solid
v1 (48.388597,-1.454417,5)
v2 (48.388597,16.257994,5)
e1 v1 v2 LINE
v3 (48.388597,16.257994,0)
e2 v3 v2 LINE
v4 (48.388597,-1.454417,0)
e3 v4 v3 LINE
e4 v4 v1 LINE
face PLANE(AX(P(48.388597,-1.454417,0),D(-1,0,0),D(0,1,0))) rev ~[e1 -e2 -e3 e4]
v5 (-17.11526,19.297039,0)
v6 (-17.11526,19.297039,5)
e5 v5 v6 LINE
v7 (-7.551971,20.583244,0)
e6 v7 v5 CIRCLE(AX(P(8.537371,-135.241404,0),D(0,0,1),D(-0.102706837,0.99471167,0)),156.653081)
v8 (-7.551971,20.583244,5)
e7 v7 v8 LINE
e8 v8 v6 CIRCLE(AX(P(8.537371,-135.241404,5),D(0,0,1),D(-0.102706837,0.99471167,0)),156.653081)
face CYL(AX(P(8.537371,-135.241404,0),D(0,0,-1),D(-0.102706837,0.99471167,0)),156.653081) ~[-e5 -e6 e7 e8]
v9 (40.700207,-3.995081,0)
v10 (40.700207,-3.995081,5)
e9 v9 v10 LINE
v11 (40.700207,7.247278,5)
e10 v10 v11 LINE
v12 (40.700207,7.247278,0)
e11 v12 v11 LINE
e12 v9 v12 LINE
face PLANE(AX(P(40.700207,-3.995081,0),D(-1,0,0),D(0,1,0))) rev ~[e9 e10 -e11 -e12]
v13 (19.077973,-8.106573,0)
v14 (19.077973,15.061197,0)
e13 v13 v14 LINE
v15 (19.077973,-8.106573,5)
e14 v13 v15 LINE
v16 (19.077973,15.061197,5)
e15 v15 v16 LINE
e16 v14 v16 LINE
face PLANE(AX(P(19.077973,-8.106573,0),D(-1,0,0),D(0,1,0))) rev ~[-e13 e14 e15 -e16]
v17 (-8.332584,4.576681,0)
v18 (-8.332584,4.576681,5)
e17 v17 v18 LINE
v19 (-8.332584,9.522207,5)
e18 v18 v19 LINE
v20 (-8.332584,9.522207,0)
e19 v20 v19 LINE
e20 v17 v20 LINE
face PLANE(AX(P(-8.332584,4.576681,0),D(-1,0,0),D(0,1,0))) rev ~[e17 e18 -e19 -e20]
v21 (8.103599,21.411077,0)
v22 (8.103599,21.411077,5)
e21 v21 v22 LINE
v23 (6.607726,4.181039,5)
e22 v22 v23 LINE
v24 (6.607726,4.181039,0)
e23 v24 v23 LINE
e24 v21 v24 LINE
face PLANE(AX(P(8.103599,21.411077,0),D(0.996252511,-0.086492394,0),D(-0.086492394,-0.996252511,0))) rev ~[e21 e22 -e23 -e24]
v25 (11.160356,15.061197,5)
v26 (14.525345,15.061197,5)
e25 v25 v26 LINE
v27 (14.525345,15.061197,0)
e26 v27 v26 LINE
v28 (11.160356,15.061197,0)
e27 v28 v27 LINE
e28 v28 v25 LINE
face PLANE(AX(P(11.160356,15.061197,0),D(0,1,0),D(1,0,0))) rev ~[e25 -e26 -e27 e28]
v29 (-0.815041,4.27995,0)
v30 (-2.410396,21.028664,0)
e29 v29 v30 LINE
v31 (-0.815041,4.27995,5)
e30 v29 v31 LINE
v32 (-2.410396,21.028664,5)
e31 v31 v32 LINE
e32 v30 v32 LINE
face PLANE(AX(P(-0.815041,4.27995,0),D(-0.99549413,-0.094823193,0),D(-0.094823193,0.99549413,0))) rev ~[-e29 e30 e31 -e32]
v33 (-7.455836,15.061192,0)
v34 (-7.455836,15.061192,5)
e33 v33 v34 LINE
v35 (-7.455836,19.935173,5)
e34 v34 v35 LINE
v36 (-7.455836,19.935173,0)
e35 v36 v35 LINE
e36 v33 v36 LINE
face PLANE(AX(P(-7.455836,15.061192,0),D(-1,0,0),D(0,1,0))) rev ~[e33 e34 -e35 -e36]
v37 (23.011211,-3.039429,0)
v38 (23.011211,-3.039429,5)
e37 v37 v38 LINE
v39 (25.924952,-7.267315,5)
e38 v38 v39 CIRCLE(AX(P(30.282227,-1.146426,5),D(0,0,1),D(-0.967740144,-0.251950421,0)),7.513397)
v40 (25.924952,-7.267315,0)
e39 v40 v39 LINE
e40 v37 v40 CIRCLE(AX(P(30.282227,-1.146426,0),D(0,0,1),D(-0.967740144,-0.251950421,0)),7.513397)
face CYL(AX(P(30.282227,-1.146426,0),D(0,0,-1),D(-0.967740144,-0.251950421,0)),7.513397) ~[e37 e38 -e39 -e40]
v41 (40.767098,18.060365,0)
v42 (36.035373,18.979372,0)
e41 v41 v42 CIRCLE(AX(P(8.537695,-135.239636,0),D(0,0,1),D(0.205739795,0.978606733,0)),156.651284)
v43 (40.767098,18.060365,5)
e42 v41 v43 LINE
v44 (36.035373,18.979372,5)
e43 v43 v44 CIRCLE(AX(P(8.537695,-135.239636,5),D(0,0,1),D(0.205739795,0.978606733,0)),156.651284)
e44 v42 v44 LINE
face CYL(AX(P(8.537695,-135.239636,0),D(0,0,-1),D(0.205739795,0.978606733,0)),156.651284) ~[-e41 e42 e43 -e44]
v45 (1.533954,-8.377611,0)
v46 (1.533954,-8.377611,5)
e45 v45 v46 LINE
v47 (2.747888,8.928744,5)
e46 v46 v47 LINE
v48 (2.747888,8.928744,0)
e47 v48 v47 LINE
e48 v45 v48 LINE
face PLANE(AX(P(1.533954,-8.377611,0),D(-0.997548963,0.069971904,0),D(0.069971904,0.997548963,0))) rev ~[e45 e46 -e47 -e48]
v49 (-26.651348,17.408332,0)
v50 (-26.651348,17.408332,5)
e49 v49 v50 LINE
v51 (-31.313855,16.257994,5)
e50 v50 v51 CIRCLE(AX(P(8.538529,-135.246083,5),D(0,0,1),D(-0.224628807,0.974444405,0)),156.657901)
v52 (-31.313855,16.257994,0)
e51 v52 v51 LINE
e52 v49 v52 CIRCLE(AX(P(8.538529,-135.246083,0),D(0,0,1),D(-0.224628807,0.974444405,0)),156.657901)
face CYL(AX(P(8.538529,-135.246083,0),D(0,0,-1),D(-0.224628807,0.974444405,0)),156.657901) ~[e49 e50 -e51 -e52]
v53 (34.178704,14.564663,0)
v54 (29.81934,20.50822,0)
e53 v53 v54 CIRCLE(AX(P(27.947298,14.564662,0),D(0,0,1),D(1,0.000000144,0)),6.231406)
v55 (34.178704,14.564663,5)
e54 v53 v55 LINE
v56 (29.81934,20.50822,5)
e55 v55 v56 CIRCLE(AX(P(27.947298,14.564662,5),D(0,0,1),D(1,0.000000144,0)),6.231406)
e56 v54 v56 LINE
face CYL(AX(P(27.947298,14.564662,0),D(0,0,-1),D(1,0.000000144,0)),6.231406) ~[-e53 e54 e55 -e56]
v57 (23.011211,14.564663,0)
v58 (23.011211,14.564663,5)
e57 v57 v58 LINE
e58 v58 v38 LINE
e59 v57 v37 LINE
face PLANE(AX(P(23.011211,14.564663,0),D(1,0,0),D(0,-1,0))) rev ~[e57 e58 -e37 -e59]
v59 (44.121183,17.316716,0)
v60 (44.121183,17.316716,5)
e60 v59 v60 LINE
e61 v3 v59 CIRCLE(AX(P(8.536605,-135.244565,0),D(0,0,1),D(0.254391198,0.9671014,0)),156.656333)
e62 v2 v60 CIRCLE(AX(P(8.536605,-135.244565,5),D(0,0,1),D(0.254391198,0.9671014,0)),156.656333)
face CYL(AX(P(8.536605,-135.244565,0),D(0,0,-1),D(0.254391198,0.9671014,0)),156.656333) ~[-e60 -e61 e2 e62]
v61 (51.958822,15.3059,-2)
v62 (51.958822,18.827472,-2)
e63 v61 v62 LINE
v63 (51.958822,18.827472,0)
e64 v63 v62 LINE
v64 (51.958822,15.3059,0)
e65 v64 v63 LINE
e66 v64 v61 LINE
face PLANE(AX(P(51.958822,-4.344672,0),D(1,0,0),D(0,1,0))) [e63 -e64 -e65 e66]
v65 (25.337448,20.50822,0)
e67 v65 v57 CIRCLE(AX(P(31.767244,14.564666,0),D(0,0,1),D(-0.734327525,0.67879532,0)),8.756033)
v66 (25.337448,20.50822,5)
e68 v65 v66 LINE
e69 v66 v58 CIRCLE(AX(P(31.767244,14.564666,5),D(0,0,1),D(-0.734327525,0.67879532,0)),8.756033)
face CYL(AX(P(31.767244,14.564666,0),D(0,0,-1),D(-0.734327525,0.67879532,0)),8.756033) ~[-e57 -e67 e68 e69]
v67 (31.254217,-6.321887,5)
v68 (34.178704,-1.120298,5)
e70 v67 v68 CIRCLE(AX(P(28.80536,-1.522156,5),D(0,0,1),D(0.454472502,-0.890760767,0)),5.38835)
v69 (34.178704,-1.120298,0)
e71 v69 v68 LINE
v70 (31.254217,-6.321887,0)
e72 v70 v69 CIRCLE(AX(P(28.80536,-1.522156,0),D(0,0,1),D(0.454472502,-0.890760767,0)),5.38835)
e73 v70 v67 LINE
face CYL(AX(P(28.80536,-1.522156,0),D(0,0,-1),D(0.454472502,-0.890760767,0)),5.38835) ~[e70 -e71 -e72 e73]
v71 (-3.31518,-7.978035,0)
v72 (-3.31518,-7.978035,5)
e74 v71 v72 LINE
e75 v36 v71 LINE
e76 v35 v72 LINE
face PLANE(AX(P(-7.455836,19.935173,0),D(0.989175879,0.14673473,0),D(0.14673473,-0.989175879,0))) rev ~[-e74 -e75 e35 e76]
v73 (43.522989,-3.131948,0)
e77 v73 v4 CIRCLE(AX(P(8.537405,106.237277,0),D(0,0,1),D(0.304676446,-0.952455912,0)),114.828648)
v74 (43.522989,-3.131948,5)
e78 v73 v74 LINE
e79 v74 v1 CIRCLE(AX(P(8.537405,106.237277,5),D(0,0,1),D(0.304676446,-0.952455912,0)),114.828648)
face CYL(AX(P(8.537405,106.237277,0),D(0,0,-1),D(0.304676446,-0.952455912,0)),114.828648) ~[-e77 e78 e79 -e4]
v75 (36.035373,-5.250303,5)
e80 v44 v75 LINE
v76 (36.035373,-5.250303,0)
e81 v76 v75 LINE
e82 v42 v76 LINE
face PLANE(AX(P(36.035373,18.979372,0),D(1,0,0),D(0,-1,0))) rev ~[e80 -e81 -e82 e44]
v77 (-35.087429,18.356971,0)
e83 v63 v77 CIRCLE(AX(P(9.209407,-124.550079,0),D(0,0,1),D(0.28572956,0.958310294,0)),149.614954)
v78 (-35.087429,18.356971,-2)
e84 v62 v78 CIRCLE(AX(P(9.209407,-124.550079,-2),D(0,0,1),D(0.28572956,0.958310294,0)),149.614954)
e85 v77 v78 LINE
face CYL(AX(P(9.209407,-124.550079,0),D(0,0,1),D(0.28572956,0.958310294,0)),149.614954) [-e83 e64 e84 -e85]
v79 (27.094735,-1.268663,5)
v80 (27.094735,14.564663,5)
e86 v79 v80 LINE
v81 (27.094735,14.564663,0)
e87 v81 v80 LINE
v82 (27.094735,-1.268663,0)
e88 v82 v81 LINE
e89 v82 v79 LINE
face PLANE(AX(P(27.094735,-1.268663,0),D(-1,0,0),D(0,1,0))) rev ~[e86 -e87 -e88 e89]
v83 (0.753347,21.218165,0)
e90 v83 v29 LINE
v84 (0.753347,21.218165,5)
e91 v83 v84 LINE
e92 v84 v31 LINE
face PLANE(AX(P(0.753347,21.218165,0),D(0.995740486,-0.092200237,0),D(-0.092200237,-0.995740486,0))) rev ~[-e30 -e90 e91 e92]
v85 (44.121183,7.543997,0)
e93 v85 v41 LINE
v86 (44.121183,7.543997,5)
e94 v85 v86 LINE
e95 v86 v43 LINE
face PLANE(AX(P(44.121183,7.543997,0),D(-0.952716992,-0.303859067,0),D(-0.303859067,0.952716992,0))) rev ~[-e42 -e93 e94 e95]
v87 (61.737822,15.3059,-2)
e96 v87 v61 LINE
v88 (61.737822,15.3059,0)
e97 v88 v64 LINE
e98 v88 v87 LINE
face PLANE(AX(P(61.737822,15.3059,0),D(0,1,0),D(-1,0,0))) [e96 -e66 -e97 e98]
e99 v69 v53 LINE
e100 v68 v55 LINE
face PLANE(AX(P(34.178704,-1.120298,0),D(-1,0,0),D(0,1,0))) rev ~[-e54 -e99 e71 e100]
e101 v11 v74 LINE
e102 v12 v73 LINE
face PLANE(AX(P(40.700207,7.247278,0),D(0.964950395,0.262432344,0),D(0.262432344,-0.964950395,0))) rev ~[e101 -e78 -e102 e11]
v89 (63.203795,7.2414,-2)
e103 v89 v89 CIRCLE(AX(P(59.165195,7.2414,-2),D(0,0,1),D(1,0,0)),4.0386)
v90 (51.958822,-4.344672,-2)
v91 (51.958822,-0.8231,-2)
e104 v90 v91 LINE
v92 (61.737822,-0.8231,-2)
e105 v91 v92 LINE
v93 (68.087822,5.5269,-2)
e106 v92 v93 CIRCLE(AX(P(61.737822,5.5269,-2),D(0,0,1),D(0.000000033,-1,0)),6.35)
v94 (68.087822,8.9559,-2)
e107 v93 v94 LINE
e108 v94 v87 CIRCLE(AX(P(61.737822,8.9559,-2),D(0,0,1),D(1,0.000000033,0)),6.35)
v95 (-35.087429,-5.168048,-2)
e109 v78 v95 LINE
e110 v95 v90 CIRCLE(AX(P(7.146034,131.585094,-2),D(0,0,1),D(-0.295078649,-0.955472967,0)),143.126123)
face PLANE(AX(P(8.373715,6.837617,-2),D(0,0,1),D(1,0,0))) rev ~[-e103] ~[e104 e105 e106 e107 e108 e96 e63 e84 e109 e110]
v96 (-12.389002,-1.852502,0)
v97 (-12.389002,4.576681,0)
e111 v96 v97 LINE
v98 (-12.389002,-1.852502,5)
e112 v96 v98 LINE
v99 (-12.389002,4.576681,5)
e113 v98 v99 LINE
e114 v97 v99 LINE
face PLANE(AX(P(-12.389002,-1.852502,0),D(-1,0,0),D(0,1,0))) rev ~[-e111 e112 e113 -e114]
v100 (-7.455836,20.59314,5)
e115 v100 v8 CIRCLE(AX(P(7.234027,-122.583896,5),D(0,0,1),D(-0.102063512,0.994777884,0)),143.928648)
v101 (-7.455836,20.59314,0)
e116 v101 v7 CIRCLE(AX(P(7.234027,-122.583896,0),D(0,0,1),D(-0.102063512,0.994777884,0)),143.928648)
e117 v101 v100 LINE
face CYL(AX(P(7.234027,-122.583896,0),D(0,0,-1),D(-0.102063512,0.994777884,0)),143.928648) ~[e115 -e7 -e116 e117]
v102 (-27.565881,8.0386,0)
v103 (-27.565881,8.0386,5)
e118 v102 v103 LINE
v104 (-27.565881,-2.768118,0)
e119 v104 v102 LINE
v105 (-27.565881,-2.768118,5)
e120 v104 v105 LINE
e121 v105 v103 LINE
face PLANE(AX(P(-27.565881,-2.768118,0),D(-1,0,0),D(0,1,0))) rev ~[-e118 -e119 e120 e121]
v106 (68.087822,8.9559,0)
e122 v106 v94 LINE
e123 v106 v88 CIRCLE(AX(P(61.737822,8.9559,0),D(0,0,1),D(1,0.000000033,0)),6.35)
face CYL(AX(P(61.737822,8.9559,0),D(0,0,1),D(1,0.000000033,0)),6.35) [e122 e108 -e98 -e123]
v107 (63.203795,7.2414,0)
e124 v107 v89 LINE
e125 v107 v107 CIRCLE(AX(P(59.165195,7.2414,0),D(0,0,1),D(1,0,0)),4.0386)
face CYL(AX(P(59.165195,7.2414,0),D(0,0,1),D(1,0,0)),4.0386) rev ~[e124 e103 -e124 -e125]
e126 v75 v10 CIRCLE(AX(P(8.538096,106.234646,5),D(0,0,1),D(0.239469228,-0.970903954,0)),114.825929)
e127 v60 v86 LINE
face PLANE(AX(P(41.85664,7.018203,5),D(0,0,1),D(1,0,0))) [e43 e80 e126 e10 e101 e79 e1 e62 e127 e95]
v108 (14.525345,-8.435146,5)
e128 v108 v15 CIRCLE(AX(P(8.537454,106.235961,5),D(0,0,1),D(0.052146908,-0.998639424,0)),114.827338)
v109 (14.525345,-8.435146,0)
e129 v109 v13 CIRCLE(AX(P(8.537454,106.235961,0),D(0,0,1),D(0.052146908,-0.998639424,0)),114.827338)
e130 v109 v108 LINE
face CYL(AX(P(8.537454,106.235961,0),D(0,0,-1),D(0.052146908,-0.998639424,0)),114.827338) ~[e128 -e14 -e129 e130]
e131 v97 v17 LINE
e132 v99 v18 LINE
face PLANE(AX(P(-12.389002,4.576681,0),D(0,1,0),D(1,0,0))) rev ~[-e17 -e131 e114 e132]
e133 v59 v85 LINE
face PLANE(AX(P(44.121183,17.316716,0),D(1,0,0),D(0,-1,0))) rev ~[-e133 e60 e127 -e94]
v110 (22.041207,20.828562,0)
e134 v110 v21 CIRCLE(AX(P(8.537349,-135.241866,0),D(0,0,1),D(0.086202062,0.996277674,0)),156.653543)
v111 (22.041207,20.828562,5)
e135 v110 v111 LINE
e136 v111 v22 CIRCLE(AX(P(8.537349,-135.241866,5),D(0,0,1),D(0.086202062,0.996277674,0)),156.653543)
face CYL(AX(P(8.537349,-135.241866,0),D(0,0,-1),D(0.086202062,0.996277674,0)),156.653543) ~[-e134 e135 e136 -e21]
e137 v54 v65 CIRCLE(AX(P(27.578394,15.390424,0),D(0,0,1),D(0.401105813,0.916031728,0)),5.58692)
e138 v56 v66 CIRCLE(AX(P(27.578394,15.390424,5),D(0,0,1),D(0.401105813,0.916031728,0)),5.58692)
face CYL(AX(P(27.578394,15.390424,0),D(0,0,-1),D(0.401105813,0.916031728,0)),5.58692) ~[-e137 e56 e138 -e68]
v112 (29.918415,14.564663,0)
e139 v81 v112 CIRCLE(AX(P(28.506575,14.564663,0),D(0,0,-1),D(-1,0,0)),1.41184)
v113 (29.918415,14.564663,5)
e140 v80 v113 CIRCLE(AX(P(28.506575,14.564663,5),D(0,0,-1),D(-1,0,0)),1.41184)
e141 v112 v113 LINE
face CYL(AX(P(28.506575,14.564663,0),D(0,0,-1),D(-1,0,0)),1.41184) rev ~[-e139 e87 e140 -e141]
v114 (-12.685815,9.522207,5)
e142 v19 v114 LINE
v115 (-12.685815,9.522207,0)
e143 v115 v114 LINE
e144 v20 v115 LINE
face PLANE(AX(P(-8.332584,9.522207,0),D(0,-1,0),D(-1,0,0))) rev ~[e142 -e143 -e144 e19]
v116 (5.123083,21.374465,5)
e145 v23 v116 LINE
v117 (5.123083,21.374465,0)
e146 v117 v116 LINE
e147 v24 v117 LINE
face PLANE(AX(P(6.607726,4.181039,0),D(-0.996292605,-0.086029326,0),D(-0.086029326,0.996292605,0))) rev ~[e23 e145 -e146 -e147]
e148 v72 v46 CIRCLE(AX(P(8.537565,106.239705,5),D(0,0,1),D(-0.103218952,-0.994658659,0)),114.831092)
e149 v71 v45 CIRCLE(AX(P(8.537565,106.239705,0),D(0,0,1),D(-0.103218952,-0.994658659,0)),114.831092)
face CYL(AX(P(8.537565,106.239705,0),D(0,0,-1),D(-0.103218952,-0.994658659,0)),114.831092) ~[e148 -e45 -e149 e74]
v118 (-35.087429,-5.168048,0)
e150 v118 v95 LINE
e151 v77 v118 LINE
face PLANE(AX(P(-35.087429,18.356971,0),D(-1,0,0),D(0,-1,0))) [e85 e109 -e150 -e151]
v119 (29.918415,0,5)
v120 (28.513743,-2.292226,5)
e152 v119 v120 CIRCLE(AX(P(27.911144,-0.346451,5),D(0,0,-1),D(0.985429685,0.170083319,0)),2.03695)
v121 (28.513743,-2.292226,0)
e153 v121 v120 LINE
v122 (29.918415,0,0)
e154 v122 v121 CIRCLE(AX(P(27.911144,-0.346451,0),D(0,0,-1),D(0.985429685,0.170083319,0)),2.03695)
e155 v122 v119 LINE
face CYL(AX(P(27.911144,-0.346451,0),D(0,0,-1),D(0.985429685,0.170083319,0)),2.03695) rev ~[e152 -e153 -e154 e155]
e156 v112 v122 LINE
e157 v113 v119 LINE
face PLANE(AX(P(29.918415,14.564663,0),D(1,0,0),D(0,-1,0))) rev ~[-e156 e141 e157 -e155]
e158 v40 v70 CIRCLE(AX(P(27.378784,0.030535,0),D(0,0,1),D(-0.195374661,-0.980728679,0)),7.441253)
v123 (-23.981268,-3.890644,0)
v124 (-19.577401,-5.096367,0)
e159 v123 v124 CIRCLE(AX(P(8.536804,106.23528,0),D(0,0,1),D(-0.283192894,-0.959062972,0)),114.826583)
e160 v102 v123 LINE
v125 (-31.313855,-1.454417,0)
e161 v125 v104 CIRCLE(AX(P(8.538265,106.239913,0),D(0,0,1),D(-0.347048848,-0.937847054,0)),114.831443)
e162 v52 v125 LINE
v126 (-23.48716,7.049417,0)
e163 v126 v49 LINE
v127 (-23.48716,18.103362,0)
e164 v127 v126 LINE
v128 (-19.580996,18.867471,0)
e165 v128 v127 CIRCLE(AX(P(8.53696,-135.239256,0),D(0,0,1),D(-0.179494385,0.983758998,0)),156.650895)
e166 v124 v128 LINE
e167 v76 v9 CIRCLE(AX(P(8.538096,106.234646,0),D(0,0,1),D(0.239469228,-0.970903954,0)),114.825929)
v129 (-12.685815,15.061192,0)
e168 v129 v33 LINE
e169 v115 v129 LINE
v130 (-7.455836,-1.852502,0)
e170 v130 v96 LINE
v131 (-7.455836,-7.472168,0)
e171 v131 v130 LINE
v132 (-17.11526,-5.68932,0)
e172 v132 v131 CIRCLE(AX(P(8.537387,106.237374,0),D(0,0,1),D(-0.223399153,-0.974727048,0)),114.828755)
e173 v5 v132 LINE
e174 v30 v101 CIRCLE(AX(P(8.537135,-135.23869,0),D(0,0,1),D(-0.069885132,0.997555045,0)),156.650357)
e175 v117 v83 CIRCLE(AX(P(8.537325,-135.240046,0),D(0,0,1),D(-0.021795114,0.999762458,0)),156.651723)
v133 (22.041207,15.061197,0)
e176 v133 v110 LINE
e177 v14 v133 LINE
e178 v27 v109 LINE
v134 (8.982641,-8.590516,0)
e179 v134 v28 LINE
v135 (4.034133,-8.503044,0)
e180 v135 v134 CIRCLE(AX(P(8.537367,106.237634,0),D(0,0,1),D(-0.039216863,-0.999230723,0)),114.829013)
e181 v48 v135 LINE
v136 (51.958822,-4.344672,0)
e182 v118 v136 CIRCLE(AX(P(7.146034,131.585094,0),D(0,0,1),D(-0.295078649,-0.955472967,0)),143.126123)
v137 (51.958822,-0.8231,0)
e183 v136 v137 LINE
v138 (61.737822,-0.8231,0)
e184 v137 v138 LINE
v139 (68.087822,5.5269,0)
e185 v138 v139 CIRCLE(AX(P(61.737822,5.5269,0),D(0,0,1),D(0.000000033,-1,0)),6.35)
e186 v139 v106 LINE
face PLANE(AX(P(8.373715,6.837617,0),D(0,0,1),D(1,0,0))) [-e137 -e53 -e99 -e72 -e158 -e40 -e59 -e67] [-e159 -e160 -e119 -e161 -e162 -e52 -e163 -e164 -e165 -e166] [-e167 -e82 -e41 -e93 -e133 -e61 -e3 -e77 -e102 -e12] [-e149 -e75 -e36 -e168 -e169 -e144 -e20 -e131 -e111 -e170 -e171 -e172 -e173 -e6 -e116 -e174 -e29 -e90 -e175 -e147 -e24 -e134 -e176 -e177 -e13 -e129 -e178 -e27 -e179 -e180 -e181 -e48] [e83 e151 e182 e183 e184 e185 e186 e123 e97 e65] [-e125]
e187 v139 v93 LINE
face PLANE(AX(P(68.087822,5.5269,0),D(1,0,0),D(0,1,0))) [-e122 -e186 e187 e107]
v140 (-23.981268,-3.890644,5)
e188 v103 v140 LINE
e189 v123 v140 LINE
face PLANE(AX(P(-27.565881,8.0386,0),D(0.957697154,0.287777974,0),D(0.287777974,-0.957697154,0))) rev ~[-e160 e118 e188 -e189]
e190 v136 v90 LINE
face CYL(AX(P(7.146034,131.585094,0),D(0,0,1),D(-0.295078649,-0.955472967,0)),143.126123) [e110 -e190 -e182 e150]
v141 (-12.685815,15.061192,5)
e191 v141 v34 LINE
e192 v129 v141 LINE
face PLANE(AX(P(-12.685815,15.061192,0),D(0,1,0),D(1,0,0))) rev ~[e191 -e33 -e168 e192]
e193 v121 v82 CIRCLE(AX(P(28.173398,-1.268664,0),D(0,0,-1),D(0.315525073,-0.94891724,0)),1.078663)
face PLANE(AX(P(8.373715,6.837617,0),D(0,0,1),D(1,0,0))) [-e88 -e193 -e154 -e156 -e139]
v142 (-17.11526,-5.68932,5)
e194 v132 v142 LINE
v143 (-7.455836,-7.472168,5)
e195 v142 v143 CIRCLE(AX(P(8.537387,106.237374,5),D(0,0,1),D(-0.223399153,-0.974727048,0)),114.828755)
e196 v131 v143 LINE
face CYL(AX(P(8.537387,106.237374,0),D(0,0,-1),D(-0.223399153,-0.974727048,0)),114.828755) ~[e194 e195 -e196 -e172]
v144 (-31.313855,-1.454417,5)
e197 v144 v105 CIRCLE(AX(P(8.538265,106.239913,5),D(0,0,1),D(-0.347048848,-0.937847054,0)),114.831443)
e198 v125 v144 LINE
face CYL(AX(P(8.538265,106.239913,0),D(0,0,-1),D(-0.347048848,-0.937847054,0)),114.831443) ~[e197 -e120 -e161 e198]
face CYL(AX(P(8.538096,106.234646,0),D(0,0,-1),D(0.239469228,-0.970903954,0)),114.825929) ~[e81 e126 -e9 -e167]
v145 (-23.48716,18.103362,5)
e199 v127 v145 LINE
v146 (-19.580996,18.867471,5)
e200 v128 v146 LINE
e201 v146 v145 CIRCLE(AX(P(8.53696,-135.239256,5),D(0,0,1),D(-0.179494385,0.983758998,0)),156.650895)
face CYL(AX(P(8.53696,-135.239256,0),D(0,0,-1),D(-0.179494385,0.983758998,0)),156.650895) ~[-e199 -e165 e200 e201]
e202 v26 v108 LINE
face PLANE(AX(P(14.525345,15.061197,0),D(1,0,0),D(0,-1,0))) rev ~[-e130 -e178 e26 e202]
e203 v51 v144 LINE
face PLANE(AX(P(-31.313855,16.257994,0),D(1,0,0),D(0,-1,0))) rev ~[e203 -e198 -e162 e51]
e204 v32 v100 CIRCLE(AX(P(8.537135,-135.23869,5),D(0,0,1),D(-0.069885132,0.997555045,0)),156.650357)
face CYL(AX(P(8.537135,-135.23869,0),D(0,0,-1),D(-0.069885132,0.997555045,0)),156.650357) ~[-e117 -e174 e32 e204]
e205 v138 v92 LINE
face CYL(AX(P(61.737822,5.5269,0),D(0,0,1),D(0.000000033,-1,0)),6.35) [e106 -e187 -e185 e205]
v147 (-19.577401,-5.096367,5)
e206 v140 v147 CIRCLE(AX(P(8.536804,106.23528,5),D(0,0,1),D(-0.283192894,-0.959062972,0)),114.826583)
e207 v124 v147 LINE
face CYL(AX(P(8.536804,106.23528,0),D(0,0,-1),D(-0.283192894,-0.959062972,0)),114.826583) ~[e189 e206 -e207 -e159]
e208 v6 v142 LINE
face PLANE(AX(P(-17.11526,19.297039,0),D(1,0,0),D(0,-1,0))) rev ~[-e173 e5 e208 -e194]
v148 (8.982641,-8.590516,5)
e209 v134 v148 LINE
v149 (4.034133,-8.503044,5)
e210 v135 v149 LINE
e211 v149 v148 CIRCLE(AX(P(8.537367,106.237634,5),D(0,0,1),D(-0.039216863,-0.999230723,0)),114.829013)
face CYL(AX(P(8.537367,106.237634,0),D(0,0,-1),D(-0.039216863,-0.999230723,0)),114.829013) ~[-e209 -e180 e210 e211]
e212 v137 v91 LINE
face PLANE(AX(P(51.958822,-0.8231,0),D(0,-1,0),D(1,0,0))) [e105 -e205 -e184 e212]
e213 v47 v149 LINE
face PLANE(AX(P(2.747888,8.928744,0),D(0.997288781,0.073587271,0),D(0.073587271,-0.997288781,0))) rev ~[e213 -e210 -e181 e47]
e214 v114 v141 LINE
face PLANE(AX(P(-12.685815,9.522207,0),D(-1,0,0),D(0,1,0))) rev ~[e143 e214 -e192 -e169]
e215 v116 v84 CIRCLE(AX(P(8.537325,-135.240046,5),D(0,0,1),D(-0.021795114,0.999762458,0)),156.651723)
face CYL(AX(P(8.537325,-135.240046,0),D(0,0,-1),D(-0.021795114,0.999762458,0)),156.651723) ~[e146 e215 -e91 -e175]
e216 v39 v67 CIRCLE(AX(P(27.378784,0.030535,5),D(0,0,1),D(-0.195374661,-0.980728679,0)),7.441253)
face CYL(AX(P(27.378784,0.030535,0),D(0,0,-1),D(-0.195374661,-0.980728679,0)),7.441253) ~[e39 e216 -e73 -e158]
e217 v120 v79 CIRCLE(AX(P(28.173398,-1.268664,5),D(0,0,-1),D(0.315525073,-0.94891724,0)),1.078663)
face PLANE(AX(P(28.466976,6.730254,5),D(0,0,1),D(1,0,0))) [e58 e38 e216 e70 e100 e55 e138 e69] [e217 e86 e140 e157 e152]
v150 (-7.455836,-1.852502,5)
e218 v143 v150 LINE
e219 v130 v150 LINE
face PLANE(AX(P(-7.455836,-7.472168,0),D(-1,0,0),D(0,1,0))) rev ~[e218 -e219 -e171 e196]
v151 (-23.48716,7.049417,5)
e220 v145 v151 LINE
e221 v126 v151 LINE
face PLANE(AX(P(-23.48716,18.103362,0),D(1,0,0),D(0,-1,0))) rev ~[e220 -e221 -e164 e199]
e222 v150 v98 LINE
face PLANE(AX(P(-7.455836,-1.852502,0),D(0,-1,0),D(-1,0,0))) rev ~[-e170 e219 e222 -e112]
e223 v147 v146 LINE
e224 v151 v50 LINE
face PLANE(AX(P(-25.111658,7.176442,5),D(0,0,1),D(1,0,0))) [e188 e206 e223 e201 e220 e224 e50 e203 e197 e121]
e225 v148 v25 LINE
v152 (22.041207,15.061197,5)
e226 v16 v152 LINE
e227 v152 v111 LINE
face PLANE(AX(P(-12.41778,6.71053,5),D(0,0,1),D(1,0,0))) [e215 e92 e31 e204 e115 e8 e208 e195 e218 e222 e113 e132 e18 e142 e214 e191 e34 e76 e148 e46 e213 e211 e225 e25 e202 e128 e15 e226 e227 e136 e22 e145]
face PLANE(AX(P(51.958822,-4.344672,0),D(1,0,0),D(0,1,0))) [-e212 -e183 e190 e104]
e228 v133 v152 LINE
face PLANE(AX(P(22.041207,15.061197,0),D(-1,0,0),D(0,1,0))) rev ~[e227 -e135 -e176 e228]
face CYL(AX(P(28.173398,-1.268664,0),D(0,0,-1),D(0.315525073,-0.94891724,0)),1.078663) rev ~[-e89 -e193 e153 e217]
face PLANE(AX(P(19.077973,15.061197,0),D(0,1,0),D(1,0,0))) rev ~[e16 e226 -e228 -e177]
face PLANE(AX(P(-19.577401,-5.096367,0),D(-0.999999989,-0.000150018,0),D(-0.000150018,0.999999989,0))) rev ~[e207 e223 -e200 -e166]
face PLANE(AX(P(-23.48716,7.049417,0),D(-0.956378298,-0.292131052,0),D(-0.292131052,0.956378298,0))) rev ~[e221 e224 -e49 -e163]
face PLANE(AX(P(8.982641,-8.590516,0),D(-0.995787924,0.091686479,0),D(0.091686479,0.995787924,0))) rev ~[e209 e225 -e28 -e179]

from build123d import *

# Parameters (mm, degrees)
F1_DEPTH = 5
F3_DEPTH = 2
F5_R     = 4.0386
F6_DEPTH = 2


with BuildPart() as f1:
    # F0 (on Top) → F1 (new body)
    with BuildSketch(Plane.XY):
        with BuildLine():
            ThreePointArc((-26.651348, 17.408332), (-28.98701, 16.85103), (-31.313855, 16.257994))
            Line((-31.313855, 16.257994), (-31.313855, -1.454417))
            ThreePointArc((-31.313855, -1.454417), (-29.445548, -2.127472), (-27.565881, -2.768118))
            Line((-27.565881, -2.768118), (-27.565881, 8.0386))
            Line((-27.565881, 8.0386), (-23.981268, -3.890644))
            ThreePointArc((-23.981268, -3.890644), (-21.785328, -4.515397), (-19.577401, -5.096367))
            Line((-19.577401, -5.096367), (-19.580996, 18.867471))
            ThreePointArc((-19.580996, 18.867471), (-21.536505, 18.497823), (-23.48716, 18.103362))
            Line((-23.48716, 18.103362), (-23.48716, 7.049417))
            Line((-23.48716, 7.049417), (-26.651348, 17.408332))
        make_face()
        with BuildLine():
            Line((48.388597, -1.454417), (48.388597, 16.257994))
            ThreePointArc((48.388597, 16.257994), (46.258605, 16.802327), (44.121183, 17.316716))
            Line((44.121183, 17.316716), (44.121183, 7.543997))
            Line((44.121183, 7.543997), (40.767098, 18.060365))
            ThreePointArc((40.767098, 18.060365), (38.40477, 18.538069), (36.035373, 18.979372))
            Line((36.035373, 18.979372), (36.035373, -5.250303))
            ThreePointArc((36.035373, -5.250303), (38.374392, -4.647226), (40.700207, -3.995081))
            Line((40.700207, -3.995081), (40.700207, 7.247278))
            Line((40.700207, 7.247278), (43.522989, -3.131948))
            ThreePointArc((43.522989, -3.131948), (45.965192, -2.320446), (48.388597, -1.454417))
        make_face()
        with BuildLine():
            ThreePointArc((-7.551971, 20.583244), (-12.343521, 20.013793), (-17.11526, 19.297039))
            Line((-17.11526, 19.297039), (-17.11526, -5.68932))
            ThreePointArc((-17.11526, -5.68932), (-12.30462, -6.684076), (-7.455836, -7.472168))
            Line((-7.455836, -7.472168), (-7.455836, -1.852502))
            Line((-7.455836, -1.852502), (-12.389002, -1.852502))
            Line((-12.389002, -1.852502), (-12.389002, 4.576681))
            Line((-12.389002, 4.576681), (-8.332584, 4.576681))
            Line((-8.332584, 4.576681), (-8.332584, 9.522207))
            Line((-8.332584, 9.522207), (-12.685815, 9.522207))
            Line((-12.685815, 9.522207), (-12.685815, 15.061192))
            Line((-12.685815, 15.061192), (-7.455836, 15.061192))
            Line((-7.455836, 15.061192), (-7.455836, 19.935173))
            Line((-7.455836, 19.935173), (-7.551971, 20.583244))
        make_face()
        with BuildLine():
            ThreePointArc((-7.455836, 20.59314), (-7.503905, 20.5882), (-7.551971, 20.583244))
            Line((-7.551971, 20.583244), (-7.455836, 19.935173))
            Line((-7.455836, 19.935173), (-7.455836, 20.59314))
        make_face()
        with BuildLine():
            Line((-7.455836, 20.59314), (-7.455836, 19.935173))
            Line((-7.455836, 19.935173), (-3.31518, -7.978035))
            ThreePointArc((-3.31518, -7.978035), (-0.89273, -8.203509), (1.533954, -8.377611))
            Line((1.533954, -8.377611), (2.747888, 8.928744))
            Line((2.747888, 8.928744), (4.034133, -8.503044))
            ThreePointArc((4.034133, -8.503044), (6.507916, -8.573444), (8.982641, -8.590516))
            Line((8.982641, -8.590516), (11.160356, 15.061197))
            Line((11.160356, 15.061197), (14.525345, 15.061197))
            Line((14.525345, 15.061197), (14.525345, -8.435146))
            ThreePointArc((14.525345, -8.435146), (16.803292, -8.293483), (19.077973, -8.106573))
            Line((19.077973, -8.106573), (19.077973, 15.061197))
            Line((19.077973, 15.061197), (22.041207, 15.061197))
            Line((22.041207, 15.061197), (22.041207, 20.828562))
            ThreePointArc((22.041207, 20.828562), (15.07889, 21.275037), (8.103599, 21.411077))
            Line((8.103599, 21.411077), (6.607726, 4.181039))
            Line((6.607726, 4.181039), (5.123083, 21.374465))
            ThreePointArc((5.123083, 21.374465), (2.93767, 21.311562), (0.753347, 21.218165))
            Line((0.753347, 21.218165), (-0.815041, 4.27995))
            Line((-0.815041, 4.27995), (-2.410396, 21.028664))
            ThreePointArc((-2.410396, 21.028664), (-4.934876, 20.831292), (-7.455836, 20.59314))
        make_face()
        with BuildLine():
            ThreePointArc((25.337448, 20.50822), (23.613483, 17.75595), (23.011211, 14.564663))
            Line((23.011211, 14.564663), (23.011211, -3.039429))
            ThreePointArc((23.011211, -3.039429), (24.095706, -5.410003), (25.924952, -7.267315))
            ThreePointArc((25.924952, -7.267315), (28.678591, -7.296316), (31.254217, -6.321887))
            ThreePointArc((31.254217, -6.321887), (33.502257, -4.16289), (34.178704, -1.120298))
            Line((34.178704, -1.120298), (34.178704, 14.564663))
            ThreePointArc((34.178704, 14.564663), (32.97203, 18.250105), (29.81934, 20.50822))
            ThreePointArc((29.81934, 20.50822), (27.578394, 20.977344), (25.337448, 20.50822))
        make_face()
        with BuildLine():
            Line((27.094735, -1.268663), (27.094735, 14.564663))
            ThreePointArc((27.094735, 14.564663), (28.506575, 15.976503), (29.918415, 14.564663))
            Line((29.918415, 14.564663), (29.918415, 0))
            ThreePointArc((29.918415, 0), (29.647931, -1.410752), (28.513743, -2.292226))
            ThreePointArc((28.513743, -2.292226), (27.542368, -2.143487), (27.094735, -1.268663))
        make_face(mode=Mode.SUBTRACT)
    extrude(amount=F1_DEPTH)


with BuildPart() as f3:
    # F2 (on Top) → F3 (new body)
    with BuildSketch(Plane.XY):
        with BuildLine():
            ThreePointArc((51.958822, 18.827472), (8.400722, 25.06269), (-35.087429, 18.356971))
            Line((-35.087429, 18.356971), (-35.087429, -5.168048))
            ThreePointArc((-35.087429, -5.168048), (8.499812, -11.534627), (51.958822, -4.344672))
            Line((51.958822, -4.344672), (51.958822, 18.827472))
        make_face()
    extrude(amount=-F3_DEPTH)


with BuildPart() as f1_1:
    add(f1.part)

    # F4: union F3
    add(f3.part)

    # F5 (on face) → F6 (join)
    with BuildSketch(Plane.XY):
        with BuildLine():
            Line((51.958822, 15.3059), (51.958822, 7.2414))
            Line((51.958822, 7.2414), (51.958822, -0.8231))
            Line((51.958822, -0.8231), (61.737822, -0.8231))
            ThreePointArc((61.737822, -0.8231), (66.22795, 1.036772), (68.087822, 5.5269))
            Line((68.087822, 5.5269), (68.087822, 8.9559))
            ThreePointArc((68.087822, 8.9559), (66.22795, 13.446028), (61.737822, 15.3059))
            Line((61.737822, 15.3059), (51.958822, 15.3059))
        make_face()
        with Locations((59.165195, 7.2414)):
            Circle(F5_R, mode=Mode.SUBTRACT)
    extrude(amount=-F6_DEPTH)


solid = f1_1.part
